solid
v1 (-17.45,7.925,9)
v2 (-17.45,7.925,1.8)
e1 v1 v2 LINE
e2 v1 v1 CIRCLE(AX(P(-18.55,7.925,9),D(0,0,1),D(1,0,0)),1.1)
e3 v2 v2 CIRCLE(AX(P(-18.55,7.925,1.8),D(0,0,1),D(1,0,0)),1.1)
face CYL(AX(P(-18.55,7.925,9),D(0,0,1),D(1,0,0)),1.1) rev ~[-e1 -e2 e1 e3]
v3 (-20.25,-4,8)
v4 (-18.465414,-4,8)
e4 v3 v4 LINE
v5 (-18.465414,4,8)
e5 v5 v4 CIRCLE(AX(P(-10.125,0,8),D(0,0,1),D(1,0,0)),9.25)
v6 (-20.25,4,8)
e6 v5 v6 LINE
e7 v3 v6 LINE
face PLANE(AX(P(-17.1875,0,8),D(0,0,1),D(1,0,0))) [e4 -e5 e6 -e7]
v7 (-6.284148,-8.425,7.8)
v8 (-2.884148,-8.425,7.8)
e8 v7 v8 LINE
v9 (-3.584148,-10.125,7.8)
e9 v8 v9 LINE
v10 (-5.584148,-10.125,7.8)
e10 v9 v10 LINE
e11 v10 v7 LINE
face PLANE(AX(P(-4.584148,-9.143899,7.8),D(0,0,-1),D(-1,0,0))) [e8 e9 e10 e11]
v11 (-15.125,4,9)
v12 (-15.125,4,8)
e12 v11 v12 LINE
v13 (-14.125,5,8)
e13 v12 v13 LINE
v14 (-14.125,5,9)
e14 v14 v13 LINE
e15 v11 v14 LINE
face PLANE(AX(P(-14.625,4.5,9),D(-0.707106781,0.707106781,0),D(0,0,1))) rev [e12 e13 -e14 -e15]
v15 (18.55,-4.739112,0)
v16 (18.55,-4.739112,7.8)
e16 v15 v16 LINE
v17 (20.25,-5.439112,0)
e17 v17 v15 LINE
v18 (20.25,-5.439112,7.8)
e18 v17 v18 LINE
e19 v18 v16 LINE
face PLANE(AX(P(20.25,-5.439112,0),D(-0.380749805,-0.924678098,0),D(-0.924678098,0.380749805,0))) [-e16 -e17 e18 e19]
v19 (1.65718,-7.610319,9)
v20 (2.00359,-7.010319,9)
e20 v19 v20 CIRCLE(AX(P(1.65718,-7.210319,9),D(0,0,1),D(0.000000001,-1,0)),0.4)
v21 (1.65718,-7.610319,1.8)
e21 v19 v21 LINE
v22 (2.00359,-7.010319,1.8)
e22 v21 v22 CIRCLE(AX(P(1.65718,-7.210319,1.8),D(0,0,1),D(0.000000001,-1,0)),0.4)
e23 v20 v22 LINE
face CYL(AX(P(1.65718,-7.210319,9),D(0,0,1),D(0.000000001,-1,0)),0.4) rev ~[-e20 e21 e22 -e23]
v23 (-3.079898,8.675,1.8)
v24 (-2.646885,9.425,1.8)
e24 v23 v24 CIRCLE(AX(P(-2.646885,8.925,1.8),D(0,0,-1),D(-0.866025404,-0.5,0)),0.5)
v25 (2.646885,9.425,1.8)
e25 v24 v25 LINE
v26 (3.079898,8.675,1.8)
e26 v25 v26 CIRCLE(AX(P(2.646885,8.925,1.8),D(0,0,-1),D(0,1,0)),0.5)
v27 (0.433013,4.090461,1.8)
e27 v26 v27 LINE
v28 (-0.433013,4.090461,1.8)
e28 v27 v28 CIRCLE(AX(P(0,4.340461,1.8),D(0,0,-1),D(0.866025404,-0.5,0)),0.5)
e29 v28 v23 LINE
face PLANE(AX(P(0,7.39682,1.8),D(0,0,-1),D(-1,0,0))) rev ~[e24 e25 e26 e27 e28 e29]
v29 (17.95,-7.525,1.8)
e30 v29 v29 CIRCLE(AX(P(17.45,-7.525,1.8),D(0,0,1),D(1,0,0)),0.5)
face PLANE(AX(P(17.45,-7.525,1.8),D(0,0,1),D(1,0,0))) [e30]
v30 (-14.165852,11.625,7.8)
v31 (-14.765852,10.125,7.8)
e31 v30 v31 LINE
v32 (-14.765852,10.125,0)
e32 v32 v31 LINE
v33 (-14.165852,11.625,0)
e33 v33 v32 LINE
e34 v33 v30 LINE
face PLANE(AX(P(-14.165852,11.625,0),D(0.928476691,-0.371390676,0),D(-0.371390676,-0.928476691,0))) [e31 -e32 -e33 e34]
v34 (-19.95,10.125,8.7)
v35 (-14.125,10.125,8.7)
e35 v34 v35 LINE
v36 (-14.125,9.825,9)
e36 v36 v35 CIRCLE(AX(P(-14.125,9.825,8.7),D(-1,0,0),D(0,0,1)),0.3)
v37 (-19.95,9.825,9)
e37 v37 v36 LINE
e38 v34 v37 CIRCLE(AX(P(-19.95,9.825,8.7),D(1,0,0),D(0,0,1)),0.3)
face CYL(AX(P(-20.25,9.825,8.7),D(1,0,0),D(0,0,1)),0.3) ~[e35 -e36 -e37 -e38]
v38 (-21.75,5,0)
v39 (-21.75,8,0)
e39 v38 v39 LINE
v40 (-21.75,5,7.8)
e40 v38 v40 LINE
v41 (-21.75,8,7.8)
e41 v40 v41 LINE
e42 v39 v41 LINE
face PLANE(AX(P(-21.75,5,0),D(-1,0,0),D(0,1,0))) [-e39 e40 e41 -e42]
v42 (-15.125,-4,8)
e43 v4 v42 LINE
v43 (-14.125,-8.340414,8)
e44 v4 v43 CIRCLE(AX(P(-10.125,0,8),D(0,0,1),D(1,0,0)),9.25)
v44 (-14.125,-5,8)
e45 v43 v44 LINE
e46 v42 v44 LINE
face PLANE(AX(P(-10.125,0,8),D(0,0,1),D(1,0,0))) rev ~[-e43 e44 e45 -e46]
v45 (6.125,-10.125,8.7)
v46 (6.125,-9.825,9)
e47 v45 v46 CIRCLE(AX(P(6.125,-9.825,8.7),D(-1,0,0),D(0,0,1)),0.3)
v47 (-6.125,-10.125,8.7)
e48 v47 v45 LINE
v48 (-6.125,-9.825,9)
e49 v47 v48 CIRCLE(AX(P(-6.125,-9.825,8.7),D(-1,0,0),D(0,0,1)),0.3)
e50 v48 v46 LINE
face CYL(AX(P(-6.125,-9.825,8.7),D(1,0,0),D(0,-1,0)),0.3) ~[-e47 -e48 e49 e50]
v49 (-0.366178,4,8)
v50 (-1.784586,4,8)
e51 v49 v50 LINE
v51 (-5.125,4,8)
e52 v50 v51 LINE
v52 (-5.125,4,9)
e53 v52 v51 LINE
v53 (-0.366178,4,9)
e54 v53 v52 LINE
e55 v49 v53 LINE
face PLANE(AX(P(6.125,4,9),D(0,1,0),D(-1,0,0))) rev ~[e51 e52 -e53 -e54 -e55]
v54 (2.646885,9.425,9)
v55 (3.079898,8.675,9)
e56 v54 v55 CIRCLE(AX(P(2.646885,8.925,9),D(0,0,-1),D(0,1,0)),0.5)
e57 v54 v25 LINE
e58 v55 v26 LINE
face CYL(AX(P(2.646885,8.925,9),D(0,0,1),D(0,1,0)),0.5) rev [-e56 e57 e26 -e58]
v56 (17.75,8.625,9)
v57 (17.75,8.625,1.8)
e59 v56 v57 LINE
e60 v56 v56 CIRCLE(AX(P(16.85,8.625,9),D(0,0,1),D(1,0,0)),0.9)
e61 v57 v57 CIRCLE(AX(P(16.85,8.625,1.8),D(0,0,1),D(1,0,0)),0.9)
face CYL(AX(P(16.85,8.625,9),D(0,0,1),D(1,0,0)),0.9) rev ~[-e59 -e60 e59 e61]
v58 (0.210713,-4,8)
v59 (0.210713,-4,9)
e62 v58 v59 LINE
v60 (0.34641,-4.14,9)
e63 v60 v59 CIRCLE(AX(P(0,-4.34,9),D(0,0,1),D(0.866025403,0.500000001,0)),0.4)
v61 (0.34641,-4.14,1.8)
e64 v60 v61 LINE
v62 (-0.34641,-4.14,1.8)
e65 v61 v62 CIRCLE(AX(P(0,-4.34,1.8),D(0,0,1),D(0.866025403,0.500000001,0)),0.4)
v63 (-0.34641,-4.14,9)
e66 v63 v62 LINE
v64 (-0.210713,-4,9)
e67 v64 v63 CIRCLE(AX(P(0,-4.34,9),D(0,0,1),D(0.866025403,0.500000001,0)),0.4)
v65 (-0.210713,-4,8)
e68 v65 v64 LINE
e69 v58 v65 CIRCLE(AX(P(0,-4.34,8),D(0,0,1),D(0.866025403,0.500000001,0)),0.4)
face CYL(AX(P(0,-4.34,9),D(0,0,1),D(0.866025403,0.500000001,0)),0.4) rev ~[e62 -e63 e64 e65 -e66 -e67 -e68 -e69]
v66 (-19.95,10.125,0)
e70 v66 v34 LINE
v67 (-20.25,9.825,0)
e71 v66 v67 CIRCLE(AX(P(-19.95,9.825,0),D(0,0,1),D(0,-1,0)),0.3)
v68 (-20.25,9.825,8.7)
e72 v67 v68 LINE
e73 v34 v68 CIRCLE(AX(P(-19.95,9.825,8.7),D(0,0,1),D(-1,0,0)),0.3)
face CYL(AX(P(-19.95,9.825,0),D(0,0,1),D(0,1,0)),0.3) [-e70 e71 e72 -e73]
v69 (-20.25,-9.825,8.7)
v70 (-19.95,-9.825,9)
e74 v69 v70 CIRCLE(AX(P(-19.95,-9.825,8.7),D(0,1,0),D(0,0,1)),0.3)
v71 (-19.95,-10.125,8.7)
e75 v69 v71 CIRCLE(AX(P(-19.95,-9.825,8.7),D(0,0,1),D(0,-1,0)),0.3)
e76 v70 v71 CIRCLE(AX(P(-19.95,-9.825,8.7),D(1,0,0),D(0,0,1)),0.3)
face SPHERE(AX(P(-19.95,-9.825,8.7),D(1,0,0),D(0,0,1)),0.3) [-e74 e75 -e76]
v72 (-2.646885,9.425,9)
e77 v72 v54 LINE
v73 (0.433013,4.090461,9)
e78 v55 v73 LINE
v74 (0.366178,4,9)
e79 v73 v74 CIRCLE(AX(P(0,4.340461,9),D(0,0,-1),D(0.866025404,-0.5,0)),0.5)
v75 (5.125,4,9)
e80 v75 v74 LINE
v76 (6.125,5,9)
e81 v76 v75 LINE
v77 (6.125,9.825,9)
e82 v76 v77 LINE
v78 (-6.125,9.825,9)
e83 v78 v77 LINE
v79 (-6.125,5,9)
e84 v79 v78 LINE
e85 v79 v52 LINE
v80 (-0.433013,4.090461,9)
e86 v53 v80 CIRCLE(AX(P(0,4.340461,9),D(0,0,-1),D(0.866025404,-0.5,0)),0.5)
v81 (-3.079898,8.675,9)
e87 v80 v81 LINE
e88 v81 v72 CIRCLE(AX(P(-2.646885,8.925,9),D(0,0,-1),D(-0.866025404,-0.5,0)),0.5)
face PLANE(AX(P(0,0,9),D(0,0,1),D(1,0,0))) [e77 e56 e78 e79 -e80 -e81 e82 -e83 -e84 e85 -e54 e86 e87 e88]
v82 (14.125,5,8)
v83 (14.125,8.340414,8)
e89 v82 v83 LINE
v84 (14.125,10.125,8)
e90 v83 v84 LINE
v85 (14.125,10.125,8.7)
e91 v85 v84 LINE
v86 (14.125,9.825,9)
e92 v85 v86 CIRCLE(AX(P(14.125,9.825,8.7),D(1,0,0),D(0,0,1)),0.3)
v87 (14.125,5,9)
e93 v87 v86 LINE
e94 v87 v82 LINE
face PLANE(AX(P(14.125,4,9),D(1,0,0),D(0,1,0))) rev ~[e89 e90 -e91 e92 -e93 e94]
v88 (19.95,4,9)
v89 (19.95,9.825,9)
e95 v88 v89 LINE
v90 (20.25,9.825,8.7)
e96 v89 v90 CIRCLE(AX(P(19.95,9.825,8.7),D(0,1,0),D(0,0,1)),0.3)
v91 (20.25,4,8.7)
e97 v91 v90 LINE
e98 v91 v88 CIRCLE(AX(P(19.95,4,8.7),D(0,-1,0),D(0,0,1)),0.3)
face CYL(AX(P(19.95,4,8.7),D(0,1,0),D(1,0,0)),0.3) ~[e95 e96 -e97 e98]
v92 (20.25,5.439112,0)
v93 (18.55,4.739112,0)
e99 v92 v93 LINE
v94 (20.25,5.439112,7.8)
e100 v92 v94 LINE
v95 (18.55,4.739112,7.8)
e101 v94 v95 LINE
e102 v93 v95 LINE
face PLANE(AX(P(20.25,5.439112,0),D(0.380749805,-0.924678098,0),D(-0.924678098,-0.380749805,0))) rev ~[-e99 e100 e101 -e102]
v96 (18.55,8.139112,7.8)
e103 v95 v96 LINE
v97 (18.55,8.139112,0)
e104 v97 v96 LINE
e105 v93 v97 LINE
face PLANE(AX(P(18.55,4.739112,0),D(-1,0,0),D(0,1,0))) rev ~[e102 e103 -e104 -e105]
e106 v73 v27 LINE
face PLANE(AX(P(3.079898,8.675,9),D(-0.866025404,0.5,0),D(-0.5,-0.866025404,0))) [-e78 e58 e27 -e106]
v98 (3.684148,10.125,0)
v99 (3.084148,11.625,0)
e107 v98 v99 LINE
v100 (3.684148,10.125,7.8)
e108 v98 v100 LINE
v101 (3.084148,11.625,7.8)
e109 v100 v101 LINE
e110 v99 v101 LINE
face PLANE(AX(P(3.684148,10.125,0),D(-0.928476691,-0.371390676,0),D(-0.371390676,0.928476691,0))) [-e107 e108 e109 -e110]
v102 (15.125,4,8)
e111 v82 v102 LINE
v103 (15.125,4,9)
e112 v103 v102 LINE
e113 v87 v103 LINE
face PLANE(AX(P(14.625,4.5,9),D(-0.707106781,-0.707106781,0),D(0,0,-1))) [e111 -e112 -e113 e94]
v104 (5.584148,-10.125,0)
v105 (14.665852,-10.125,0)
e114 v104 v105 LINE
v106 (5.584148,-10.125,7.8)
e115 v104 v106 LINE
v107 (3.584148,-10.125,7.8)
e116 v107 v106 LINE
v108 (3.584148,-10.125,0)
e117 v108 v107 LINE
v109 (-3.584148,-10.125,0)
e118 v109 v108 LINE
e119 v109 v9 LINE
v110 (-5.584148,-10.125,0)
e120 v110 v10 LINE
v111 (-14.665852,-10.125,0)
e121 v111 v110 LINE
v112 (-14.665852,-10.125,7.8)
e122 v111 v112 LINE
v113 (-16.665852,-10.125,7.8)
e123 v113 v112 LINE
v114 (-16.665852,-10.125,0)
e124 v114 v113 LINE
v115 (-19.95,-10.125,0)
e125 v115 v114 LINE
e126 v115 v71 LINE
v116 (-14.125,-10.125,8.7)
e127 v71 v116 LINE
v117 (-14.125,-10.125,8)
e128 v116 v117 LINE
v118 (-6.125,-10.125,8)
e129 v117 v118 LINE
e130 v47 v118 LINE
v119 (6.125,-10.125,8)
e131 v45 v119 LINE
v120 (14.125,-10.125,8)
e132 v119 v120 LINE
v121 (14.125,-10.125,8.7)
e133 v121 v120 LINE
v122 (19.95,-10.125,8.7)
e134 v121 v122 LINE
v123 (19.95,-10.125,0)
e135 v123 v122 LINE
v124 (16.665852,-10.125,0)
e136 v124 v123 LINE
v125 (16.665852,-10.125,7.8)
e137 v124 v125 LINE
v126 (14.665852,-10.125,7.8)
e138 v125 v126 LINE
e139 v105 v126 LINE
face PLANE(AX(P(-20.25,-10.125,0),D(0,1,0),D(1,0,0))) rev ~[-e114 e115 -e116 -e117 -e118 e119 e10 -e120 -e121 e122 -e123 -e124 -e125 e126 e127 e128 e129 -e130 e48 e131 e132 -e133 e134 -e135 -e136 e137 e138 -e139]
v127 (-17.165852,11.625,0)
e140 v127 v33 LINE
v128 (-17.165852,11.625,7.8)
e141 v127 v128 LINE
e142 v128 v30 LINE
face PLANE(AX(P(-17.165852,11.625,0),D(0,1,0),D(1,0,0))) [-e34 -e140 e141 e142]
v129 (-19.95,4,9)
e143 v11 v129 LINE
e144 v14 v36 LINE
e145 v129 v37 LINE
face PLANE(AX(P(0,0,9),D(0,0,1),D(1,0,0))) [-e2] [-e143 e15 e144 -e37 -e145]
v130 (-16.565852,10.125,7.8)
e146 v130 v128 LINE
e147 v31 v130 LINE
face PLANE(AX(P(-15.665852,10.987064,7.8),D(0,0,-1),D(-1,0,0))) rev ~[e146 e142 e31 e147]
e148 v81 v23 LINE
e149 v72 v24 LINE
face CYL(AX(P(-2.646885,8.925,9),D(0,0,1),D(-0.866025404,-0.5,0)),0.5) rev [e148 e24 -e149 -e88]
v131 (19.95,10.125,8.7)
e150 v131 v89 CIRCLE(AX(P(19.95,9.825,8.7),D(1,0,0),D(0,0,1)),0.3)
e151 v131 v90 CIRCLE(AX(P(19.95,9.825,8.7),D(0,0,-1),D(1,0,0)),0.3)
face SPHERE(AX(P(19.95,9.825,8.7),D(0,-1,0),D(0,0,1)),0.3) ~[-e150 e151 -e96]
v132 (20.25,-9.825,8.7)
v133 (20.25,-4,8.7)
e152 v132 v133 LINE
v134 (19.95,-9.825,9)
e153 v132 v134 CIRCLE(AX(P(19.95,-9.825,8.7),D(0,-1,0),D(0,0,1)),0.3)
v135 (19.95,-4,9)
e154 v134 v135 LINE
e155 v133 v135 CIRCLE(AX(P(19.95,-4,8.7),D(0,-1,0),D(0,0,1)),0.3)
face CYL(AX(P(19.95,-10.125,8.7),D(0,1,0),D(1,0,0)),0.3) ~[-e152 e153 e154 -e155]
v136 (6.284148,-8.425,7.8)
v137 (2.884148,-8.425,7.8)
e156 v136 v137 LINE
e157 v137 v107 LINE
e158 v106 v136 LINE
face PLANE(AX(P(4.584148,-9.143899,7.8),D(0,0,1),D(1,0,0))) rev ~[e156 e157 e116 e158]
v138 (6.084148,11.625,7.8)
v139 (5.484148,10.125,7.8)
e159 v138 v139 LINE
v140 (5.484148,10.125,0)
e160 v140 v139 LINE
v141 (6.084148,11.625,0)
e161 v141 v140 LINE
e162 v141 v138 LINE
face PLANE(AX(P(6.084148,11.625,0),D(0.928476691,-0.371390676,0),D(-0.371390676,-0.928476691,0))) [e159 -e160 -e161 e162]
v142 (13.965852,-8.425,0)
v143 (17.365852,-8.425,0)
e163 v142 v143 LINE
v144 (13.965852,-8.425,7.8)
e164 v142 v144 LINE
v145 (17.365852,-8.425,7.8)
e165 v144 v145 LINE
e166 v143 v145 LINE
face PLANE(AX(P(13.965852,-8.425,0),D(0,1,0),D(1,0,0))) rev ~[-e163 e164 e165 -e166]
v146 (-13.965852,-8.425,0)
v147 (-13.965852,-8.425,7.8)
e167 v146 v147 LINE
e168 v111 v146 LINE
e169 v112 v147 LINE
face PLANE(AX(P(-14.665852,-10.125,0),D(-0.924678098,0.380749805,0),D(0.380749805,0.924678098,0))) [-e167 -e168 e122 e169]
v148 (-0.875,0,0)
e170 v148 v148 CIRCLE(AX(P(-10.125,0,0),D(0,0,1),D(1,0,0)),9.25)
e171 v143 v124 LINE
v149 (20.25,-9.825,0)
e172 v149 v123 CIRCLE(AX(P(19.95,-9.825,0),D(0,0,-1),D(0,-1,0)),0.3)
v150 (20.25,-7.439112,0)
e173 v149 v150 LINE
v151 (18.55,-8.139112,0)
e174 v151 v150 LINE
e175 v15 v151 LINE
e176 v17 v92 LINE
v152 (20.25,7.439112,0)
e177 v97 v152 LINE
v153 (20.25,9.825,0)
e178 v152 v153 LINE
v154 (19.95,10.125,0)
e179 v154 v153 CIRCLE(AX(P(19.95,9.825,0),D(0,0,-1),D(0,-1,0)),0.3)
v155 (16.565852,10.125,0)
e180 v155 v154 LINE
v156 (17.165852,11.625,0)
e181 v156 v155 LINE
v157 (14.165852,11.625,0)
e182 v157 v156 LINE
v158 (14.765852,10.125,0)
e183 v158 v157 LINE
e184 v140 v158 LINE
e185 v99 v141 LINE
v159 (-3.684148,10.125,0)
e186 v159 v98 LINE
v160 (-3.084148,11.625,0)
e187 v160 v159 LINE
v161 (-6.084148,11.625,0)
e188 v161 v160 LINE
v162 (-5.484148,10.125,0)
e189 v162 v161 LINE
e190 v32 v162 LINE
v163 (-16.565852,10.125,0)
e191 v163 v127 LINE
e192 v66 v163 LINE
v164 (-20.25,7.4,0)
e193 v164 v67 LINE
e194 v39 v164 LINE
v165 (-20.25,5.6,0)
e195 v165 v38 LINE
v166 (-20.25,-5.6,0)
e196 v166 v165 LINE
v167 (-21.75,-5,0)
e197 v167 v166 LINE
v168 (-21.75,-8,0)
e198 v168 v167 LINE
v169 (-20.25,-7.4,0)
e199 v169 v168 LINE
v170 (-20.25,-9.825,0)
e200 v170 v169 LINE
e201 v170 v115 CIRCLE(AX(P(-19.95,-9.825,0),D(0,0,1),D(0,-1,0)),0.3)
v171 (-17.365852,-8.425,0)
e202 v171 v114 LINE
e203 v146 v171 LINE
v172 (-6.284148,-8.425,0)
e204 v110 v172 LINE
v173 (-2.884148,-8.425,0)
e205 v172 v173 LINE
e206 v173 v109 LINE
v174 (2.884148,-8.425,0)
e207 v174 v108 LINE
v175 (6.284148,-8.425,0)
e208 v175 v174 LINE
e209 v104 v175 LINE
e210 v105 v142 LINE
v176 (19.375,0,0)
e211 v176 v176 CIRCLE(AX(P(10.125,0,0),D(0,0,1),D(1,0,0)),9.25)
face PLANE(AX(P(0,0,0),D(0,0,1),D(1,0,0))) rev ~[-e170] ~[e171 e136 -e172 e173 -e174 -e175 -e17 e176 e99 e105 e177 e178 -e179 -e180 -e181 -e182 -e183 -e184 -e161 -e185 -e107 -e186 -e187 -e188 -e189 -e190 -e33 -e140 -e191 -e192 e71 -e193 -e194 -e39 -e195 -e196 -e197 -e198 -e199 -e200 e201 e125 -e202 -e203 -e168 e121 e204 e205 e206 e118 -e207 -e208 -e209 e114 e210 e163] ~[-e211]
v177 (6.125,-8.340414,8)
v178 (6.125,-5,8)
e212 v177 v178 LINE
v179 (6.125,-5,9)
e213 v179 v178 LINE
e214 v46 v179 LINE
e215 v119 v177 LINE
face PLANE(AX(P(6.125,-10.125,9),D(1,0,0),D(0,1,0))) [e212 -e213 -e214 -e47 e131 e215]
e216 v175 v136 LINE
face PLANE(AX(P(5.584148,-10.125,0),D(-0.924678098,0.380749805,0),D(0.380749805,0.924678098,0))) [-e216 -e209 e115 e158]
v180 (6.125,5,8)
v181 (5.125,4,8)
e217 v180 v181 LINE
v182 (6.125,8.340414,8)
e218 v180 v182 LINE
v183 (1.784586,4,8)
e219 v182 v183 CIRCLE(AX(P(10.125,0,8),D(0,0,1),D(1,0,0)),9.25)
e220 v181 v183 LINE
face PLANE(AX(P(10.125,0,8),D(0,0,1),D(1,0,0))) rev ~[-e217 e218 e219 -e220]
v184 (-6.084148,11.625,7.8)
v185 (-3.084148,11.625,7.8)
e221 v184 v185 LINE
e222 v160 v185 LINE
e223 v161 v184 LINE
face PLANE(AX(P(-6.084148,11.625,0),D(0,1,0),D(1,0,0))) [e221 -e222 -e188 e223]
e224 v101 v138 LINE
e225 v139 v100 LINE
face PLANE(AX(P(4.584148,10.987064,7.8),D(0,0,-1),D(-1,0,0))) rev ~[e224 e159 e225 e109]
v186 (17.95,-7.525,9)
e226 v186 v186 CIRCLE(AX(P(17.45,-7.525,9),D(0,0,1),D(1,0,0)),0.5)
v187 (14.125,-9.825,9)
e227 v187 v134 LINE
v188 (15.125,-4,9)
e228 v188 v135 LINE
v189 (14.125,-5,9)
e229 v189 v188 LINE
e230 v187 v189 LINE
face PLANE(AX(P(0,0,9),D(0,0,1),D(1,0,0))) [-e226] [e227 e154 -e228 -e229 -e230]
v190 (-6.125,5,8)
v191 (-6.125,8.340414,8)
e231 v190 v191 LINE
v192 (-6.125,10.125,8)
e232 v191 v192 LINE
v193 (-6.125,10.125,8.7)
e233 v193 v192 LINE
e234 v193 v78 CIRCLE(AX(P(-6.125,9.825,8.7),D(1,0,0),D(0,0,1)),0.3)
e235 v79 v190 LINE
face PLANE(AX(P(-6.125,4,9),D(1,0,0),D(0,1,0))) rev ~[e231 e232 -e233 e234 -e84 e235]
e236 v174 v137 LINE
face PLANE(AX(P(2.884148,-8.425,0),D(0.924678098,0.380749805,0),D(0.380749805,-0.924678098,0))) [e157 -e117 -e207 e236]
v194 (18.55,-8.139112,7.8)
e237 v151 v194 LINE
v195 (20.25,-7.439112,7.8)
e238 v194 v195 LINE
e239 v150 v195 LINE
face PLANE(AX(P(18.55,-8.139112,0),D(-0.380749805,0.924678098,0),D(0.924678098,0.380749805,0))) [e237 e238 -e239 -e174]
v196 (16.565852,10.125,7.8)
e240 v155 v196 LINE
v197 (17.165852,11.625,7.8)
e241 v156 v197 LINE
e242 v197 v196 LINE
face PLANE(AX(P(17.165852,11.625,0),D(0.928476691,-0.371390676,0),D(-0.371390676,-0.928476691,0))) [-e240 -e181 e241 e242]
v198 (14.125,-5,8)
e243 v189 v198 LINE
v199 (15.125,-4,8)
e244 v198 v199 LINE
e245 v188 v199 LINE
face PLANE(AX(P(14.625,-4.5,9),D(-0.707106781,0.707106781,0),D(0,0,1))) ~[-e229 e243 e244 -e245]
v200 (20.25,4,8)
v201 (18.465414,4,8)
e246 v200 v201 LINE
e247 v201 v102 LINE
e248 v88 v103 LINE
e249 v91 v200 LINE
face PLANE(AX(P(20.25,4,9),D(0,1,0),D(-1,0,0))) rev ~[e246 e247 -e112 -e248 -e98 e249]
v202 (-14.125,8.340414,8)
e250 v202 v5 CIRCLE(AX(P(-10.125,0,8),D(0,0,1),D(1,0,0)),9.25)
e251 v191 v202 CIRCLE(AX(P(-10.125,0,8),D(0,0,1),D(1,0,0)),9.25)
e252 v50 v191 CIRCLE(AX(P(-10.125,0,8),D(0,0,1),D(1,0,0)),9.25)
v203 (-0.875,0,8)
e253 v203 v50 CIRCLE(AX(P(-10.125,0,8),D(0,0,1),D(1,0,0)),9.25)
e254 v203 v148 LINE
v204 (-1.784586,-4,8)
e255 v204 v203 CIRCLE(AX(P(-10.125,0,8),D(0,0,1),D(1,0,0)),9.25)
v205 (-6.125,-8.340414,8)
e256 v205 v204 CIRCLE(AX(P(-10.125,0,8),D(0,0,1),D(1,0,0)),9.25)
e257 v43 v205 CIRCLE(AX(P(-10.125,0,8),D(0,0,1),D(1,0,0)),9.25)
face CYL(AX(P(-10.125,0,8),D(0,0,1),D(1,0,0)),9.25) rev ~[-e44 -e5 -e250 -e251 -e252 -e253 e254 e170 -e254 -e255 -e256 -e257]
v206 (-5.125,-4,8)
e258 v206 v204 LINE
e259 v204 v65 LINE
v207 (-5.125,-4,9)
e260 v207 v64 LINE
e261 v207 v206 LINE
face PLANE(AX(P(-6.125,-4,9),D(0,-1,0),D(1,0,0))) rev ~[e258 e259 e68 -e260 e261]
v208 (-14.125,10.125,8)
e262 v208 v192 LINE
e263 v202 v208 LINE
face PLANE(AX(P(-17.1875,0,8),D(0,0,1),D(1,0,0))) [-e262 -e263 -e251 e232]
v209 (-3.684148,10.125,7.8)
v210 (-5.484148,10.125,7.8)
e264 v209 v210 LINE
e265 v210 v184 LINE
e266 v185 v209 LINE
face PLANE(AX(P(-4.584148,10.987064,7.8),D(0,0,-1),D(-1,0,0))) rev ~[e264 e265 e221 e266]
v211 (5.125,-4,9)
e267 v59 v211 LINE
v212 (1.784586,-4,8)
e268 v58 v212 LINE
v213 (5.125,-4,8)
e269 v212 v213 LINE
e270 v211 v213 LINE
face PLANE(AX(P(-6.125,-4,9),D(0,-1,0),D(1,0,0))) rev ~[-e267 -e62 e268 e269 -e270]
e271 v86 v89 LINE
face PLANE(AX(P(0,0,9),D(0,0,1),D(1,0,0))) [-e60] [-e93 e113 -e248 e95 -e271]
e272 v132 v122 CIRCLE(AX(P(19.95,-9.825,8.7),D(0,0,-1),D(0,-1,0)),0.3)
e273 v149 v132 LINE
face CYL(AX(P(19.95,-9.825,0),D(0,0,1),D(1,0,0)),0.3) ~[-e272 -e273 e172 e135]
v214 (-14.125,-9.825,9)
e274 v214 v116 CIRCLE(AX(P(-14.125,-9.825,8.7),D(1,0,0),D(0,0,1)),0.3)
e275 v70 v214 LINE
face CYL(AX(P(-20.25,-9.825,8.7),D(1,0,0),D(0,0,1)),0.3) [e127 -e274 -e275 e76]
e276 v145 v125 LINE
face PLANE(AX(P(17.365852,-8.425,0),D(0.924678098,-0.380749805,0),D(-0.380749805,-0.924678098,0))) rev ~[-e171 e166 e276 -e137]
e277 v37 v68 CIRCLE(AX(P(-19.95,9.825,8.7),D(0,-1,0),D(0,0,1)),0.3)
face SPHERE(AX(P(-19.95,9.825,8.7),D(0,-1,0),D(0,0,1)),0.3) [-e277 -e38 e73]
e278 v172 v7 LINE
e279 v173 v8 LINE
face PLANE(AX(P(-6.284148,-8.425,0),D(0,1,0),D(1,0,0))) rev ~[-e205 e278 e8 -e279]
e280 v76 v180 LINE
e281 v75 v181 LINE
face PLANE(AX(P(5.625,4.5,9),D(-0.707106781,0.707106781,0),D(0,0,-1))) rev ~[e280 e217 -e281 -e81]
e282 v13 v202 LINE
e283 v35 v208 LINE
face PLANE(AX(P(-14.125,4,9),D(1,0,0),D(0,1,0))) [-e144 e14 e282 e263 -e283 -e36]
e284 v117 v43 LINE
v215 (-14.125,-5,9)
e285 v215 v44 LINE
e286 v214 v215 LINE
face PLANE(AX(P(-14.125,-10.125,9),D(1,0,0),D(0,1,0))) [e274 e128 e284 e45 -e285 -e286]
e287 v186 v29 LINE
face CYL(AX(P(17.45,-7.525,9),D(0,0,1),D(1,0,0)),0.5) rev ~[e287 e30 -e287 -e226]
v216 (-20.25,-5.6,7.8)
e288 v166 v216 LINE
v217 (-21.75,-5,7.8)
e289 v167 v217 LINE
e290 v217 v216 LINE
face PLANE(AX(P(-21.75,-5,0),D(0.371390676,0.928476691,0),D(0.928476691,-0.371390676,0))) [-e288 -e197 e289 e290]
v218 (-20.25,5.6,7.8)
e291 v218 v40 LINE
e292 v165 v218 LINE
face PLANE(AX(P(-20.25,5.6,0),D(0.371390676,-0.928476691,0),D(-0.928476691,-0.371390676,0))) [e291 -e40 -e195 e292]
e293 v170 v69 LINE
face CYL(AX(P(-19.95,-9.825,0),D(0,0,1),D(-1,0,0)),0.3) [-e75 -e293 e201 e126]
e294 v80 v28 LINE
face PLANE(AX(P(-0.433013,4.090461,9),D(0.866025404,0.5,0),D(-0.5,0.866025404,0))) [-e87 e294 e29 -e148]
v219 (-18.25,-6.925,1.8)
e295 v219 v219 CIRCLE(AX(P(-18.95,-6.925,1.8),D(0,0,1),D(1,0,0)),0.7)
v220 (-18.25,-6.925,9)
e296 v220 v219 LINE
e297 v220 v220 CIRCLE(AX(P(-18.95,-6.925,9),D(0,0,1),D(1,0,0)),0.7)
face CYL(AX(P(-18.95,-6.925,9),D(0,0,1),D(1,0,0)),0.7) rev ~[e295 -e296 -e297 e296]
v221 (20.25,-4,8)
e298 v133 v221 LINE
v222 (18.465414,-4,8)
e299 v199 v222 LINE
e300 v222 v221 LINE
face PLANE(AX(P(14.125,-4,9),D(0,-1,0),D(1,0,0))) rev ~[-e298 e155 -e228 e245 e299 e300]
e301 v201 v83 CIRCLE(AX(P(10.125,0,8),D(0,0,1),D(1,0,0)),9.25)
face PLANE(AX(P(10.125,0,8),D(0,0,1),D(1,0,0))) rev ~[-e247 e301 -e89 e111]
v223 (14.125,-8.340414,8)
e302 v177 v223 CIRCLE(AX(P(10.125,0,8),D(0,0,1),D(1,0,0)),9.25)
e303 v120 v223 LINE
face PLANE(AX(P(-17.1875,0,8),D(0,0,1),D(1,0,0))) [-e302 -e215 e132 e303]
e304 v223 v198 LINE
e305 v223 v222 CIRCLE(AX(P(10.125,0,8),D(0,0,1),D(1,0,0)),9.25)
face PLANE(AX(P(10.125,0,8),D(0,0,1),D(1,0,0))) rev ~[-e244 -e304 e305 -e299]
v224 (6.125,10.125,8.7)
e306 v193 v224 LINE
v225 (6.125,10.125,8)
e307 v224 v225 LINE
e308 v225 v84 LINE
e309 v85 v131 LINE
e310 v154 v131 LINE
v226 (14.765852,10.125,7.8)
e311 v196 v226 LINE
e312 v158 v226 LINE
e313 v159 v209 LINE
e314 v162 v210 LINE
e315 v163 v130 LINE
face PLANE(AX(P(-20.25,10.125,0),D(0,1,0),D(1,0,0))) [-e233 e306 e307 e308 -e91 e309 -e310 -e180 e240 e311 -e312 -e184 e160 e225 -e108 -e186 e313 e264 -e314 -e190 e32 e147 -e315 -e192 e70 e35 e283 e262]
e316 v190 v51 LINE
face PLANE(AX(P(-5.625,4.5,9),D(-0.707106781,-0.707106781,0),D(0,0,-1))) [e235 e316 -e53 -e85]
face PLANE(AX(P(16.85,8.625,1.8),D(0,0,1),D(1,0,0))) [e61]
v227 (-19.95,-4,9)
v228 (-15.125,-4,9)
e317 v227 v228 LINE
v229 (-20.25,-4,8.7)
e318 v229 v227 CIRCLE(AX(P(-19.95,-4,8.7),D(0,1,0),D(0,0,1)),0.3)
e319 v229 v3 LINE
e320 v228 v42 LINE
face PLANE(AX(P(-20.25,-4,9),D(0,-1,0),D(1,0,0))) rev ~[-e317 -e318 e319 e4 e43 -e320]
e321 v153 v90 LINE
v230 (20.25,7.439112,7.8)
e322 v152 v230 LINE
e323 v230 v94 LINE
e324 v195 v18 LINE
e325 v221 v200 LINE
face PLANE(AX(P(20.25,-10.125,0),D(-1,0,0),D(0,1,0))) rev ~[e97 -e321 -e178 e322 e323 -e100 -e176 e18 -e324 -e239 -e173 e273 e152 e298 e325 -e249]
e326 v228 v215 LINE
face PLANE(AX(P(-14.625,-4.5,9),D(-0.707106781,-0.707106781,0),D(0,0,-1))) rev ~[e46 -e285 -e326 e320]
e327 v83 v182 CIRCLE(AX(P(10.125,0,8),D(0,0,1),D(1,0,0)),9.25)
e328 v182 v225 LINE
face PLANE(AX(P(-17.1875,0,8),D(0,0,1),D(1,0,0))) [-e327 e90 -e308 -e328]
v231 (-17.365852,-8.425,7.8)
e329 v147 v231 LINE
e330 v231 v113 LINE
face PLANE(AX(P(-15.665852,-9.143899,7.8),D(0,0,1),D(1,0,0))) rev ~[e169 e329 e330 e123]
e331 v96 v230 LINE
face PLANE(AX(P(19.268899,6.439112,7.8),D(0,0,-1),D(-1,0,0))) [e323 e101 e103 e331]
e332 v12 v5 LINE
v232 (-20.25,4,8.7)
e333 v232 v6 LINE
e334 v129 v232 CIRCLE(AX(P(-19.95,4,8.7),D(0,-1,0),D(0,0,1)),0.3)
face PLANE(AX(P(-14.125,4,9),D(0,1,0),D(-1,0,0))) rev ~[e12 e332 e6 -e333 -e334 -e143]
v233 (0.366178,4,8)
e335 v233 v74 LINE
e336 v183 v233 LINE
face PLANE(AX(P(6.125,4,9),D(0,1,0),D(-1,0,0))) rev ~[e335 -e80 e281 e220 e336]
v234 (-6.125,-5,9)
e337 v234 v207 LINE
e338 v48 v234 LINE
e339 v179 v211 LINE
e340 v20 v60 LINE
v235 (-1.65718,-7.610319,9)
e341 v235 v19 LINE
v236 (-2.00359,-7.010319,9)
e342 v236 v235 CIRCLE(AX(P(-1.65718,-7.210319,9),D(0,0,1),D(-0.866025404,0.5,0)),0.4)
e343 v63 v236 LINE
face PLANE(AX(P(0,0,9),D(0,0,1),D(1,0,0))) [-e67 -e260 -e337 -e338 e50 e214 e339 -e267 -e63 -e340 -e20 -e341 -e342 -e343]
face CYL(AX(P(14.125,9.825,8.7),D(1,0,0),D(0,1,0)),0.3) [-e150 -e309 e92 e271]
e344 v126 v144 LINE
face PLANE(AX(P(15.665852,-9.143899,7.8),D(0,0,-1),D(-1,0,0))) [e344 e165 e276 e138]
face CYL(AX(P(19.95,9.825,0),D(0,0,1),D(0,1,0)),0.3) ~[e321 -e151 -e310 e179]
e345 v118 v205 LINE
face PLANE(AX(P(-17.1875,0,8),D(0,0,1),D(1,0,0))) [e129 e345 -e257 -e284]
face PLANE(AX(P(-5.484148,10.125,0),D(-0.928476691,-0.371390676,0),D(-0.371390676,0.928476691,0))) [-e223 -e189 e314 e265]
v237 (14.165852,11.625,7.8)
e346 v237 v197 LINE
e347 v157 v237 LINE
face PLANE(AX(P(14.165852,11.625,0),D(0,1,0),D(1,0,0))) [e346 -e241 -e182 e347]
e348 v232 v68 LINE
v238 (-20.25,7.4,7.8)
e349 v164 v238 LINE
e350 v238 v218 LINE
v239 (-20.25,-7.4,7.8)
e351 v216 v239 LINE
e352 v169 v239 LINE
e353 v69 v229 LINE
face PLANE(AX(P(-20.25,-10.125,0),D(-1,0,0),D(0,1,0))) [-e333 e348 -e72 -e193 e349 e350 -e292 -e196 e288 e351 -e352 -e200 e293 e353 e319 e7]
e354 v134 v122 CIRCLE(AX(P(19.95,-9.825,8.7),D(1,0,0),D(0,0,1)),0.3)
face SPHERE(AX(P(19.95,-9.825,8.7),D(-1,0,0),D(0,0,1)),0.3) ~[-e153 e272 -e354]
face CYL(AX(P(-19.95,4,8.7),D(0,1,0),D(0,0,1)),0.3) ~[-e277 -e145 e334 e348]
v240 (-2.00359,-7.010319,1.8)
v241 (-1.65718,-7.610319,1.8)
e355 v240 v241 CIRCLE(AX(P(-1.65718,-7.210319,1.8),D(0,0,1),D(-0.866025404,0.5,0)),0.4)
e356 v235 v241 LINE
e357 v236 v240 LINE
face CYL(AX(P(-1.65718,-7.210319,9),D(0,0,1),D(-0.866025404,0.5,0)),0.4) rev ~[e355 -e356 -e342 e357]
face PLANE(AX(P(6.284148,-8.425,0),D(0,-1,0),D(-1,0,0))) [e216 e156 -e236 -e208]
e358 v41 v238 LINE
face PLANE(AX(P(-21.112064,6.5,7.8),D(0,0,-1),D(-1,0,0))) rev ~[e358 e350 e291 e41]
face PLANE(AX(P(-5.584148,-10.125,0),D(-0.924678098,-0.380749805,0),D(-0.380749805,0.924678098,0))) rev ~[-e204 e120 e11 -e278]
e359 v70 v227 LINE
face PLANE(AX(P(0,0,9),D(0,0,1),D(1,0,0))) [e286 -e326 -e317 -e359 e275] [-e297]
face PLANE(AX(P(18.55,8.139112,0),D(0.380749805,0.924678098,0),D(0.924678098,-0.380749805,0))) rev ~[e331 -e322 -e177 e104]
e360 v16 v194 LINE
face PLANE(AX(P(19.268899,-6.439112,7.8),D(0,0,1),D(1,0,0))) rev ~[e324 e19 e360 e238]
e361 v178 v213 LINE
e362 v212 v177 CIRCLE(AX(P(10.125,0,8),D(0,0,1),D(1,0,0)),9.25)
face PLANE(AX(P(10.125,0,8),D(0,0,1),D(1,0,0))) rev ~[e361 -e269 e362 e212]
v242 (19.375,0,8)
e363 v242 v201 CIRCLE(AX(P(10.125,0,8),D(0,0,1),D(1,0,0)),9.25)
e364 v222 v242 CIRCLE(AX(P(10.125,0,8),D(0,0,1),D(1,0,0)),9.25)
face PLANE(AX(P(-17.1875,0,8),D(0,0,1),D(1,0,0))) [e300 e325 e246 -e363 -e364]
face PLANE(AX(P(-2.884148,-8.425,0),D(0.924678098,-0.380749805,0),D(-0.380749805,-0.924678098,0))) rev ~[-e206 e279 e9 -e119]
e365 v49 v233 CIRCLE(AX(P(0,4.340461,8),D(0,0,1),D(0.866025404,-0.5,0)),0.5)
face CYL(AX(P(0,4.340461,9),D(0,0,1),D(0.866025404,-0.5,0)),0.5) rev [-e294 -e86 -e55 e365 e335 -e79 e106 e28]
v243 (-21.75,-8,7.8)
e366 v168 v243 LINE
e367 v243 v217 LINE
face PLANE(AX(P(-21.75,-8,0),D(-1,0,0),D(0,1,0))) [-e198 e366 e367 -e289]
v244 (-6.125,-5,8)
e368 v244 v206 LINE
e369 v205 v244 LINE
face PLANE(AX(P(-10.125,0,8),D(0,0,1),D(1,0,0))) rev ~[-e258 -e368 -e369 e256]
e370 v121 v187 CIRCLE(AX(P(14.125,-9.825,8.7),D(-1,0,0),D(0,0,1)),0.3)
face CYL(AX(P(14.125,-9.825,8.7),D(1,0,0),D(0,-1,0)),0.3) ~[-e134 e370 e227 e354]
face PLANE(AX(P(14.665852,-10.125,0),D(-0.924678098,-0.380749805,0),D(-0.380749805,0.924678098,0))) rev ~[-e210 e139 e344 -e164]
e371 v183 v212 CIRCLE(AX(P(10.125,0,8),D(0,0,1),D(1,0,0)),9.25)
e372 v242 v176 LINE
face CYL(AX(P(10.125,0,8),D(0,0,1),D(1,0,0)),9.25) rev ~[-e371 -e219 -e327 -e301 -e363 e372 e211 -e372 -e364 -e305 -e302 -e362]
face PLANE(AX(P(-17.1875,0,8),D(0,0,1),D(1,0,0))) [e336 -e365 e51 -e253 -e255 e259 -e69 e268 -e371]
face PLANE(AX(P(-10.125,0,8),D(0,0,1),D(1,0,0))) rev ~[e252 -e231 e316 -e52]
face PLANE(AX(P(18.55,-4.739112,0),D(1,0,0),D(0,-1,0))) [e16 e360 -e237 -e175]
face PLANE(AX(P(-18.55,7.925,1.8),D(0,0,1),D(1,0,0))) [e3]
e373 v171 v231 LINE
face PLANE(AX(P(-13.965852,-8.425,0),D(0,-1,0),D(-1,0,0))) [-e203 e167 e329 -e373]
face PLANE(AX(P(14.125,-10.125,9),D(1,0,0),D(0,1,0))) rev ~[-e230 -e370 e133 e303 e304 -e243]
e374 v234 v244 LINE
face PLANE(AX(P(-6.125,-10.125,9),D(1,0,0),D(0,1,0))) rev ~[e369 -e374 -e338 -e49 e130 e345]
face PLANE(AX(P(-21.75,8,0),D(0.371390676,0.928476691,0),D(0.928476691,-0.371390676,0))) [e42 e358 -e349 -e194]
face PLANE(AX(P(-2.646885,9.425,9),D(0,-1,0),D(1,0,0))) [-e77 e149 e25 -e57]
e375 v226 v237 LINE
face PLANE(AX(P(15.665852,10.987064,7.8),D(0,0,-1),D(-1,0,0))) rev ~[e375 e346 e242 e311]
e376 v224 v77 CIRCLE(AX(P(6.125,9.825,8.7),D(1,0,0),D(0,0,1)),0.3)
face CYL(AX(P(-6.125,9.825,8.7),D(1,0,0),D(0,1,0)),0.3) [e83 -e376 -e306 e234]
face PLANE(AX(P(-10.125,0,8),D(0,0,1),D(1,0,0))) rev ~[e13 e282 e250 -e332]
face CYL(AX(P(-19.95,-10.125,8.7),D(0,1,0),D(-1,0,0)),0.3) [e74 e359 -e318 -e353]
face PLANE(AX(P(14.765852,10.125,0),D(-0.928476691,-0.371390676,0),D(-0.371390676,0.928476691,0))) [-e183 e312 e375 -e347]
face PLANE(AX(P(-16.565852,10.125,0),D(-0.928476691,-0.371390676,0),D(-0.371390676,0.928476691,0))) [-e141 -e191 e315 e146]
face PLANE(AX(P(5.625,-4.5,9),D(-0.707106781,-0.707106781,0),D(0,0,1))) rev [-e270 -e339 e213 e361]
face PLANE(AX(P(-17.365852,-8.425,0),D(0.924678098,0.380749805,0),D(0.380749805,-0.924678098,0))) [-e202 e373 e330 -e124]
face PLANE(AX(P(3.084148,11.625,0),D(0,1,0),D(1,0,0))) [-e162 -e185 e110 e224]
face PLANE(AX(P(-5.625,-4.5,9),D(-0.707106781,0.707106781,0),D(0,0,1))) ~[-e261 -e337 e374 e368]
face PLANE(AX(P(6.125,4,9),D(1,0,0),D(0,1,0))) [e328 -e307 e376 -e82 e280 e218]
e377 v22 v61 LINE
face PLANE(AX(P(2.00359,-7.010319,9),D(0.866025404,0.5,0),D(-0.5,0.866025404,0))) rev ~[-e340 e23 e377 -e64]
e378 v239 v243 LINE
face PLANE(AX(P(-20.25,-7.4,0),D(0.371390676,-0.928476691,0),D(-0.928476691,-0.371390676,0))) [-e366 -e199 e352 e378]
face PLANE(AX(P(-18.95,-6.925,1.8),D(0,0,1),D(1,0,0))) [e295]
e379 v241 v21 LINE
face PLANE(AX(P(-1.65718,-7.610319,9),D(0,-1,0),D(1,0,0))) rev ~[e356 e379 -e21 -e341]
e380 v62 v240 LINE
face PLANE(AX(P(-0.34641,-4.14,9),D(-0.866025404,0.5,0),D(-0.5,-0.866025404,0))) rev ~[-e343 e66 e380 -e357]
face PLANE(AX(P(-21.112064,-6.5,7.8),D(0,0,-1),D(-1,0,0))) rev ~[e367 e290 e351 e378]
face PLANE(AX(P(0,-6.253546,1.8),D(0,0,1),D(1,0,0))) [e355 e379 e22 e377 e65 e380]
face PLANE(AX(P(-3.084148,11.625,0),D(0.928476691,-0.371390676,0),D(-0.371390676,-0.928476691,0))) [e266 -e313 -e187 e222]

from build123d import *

# Parameters (mm, degrees)
SKETCH_1_W          = 40.5
SKETCH_1_H          = 20.25
EXTRUDE_1_DEPTH     = 9
CUT_EXTRUDE_START   = -1
SKETCH_2_R          = 9.25
CUT_EXTRUDE_1_DEPTH = 9
SKETCH_3_W          = 6.125
SKETCH_3_H          = 8
SKETCH_3_W_2        = 8
SKETCH_3_W_3        = 12.25
SKETCH_3_H_2        = 6.125
CUT_EXTRUDE_2_DEPTH = 1
CHAMFER_1_SIZE      = 1
SKETCH_4_R          = 1.1
SKETCH_4_R_2        = 0.7
SKETCH_4_R_3        = 0.9
SKETCH_4_R_4        = 0.5
CUT_EXTRUDE_3_DEPTH = 7.2
EXTRUDE_2_DEPTH     = 7.8
CUT_EXTRUDE_4_DEPTH = 7.8
FILLET_1_R          = 0.3


with BuildPart() as part:
    # Эскиз1 → Бобышка-Вытянуть1 (new body)
    with BuildSketch(Plane.XY):
        Rectangle(SKETCH_1_W, SKETCH_1_H)
    extrude(amount=EXTRUDE_1_DEPTH)

    # Эскиз2 → Вырез-Вытянуть1 (cut)
    with BuildSketch(Plane.XY.offset(9).offset(CUT_EXTRUDE_START)):
        with Locations((-10.125, 0)):
            Circle(SKETCH_2_R)
        with Locations((10.125, 0)):
            Circle(SKETCH_2_R)
    extrude(amount=-CUT_EXTRUDE_1_DEPTH, mode=Mode.SUBTRACT)

    # Эскиз3 → Вырез-Вытянуть2 (cut)
    with BuildSketch(Plane.XY.offset(9)):
        with Locations((-17.1875, 0)):
            Rectangle(SKETCH_3_W, SKETCH_3_H)
        with Locations((-10.125, 0)):
            Rectangle(SKETCH_3_W_2, SKETCH_3_H)
        Rectangle(SKETCH_3_W_3, SKETCH_3_H)
        with Locations((10.125, 0)):
            Rectangle(SKETCH_3_W_2, SKETCH_3_H)
        with Locations((17.1875, 0)):
            Rectangle(SKETCH_3_W, SKETCH_3_H)
        with Locations((10.125, 7.0625)):
            Rectangle(SKETCH_3_W_2, SKETCH_3_H_2)
        with Locations((-10.125, 7.0625)):
            Rectangle(SKETCH_3_W_2, SKETCH_3_H_2)
        with Locations((-10.125, -7.0625)):
            Rectangle(SKETCH_3_W_2, SKETCH_3_H_2)
        with Locations((10.125, -7.0625)):
            Rectangle(SKETCH_3_W_2, SKETCH_3_H_2)
    extrude(amount=-CUT_EXTRUDE_2_DEPTH, mode=Mode.SUBTRACT)

    # Фаска1
    chamfer_1_edges = [part.edges().sort_by_distance(p)[0] for p in [
        (-14.125, 4, 8.5),
        (-6.125, 4, 8.5),
        (6.125, 4, 8.5),
        (14.125, 4, 8.5),
        (14.125, -4, 8.5),
        (6.125, -4, 8.5),
        (-6.125, -4, 8.5),
        (-14.125, -4, 8.5),
    ]]
    chamfer(chamfer_1_edges, length=CHAMFER_1_SIZE)

    # Эскиз4 → Вырез-Вытянуть3 (cut)
    with BuildSketch(Plane.XY.offset(9)):
        with Locations((-18.55, 7.925)):
            Circle(SKETCH_4_R)
        with Locations((-18.95, -6.925)):
            Circle(SKETCH_4_R_2)
        with Locations((16.85, 8.625)):
            Circle(SKETCH_4_R_3)
        with Locations((17.45, -7.525)):
            Circle(SKETCH_4_R_4)
        with BuildLine():
            Line((3.079897776, 8.675), (0.433012702, 4.09046057))
            ThreePointArc((0.433012702, 4.09046057), (0, 3.84046057), (-0.433012702, 4.09046057))
            Line((-0.433012702, 4.09046057), (-3.079897776, 8.675))
            ThreePointArc((-3.079897776, 8.675), (-3.079897776, 9.175), (-2.646885074, 9.425))
            Line((-2.646885074, 9.425), (2.646885074, 9.425))
            ThreePointArc((2.646885074, 9.425), (3.079897776, 9.175), (3.079897776, 8.675))
        make_face()
        with BuildLine():
            Line((-0.346410162, -4.14), (-2.003589838, -7.010319398))
            ThreePointArc((-2.003589838, -7.010319398), (-2.003589838, -7.410319398), (-1.657179677, -7.610319398))
            Line((-1.657179677, -7.610319398), (1.657179677, -7.610319398))
            ThreePointArc((1.657179677, -7.610319398), (2.003589838, -7.410319398), (2.003589838, -7.010319398))
            Line((2.003589838, -7.010319398), (0.346410162, -4.14))
            ThreePointArc((0.346410162, -4.14), (0, -3.94), (-0.346410162, -4.14))
        make_face()
    extrude(amount=-CUT_EXTRUDE_3_DEPTH, mode=Mode.SUBTRACT)

    # Эскиз5 → Бобышка-Вытянуть2 (add)
    with BuildSketch(Plane(origin=(0, 0, 0), x_dir=(-1, 0, 0), z_dir=(0, 0, -1))):
        Polygon((-14.165851779, 11.625), (-17.165851779, 11.625), (-16.565851779, 10.125), (-14.765851779, 10.125), align=None)
        Polygon((-6.084148221, 11.625), (-5.484148221, 10.125), (-3.684148221, 10.125), (-3.084148221, 11.625), align=None)
        Polygon((6.084148221, 11.625), (3.084148221, 11.625), (3.684148221, 10.125), (5.484148221, 10.125), align=None)
        Polygon((14.165851779, 11.625), (14.765851779, 10.125), (16.565851779, 10.125), (17.165851779, 11.625), align=None)
        Polygon((20.25, 7.4), (20.25, 5.6), (21.75, 5), (21.75, 8), align=None)
        Polygon((20.25, -7.4), (21.75, -8), (21.75, -5), (20.25, -5.6), align=None)
    extrude(amount=-EXTRUDE_2_DEPTH)

    # Эскиз6 → Вырез-Вытянуть4 (cut)
    with BuildSketch(Plane(origin=(0, 0, 0), x_dir=(-1, 0, 0), z_dir=(0, 0, -1))):
        Polygon((17.365851779, -8.425), (16.665851779, -10.125), (14.665851779, -10.125), (13.965851779, -8.425), align=None)
        Polygon((6.284148221, -8.425), (2.884148221, -8.425), (3.584148221, -10.125), (5.584148221, -10.125), align=None)
        Polygon((-16.665851779, -10.125), (-14.665851779, -10.125), (-13.965851779, -8.425), (-17.365851779, -8.425), align=None)
        Polygon((-2.884148221, -8.425), (-3.584148221, -10.125), (-5.584148221, -10.125), (-6.284148221, -8.425), align=None)
        Polygon((-18.55, -4.739111724), (-18.55, -8.139111724), (-20.25, -7.439111724), (-20.25, -5.439111724), align=None)
        Polygon((-18.55, 8.139111724), (-20.25, 7.439111724), (-20.25, 5.439111724), (-18.55, 4.739111724), align=None)
    extrude(amount=-CUT_EXTRUDE_4_DEPTH, mode=Mode.SUBTRACT)

    # Скругление1
    fillet_1_edges = [part.edges().sort_by_distance(p)[0] for p in [
        (-20.25, 7.0625, 9),
        (-17.1875, -10.125, 9),
        (20.25, 7.0625, 9),
        (0, 10.125, 9),
        (-17.1875, 10.125, 9),
        (-20.25, -7.0625, 9),
        (0, -10.125, 9),
        (17.1875, -10.125, 9),
        (20.25, -7.0625, 9),
        (17.1875, 10.125, 9),
        (20.25, -10.125, 4.5),
        (-20.25, -10.125, 4.5),
        (-20.25, 10.125, 4.5),
        (20.25, 10.125, 4.5),
    ]]
    fillet(fillet_1_edges, radius=FILLET_1_R)


solid = part.part
